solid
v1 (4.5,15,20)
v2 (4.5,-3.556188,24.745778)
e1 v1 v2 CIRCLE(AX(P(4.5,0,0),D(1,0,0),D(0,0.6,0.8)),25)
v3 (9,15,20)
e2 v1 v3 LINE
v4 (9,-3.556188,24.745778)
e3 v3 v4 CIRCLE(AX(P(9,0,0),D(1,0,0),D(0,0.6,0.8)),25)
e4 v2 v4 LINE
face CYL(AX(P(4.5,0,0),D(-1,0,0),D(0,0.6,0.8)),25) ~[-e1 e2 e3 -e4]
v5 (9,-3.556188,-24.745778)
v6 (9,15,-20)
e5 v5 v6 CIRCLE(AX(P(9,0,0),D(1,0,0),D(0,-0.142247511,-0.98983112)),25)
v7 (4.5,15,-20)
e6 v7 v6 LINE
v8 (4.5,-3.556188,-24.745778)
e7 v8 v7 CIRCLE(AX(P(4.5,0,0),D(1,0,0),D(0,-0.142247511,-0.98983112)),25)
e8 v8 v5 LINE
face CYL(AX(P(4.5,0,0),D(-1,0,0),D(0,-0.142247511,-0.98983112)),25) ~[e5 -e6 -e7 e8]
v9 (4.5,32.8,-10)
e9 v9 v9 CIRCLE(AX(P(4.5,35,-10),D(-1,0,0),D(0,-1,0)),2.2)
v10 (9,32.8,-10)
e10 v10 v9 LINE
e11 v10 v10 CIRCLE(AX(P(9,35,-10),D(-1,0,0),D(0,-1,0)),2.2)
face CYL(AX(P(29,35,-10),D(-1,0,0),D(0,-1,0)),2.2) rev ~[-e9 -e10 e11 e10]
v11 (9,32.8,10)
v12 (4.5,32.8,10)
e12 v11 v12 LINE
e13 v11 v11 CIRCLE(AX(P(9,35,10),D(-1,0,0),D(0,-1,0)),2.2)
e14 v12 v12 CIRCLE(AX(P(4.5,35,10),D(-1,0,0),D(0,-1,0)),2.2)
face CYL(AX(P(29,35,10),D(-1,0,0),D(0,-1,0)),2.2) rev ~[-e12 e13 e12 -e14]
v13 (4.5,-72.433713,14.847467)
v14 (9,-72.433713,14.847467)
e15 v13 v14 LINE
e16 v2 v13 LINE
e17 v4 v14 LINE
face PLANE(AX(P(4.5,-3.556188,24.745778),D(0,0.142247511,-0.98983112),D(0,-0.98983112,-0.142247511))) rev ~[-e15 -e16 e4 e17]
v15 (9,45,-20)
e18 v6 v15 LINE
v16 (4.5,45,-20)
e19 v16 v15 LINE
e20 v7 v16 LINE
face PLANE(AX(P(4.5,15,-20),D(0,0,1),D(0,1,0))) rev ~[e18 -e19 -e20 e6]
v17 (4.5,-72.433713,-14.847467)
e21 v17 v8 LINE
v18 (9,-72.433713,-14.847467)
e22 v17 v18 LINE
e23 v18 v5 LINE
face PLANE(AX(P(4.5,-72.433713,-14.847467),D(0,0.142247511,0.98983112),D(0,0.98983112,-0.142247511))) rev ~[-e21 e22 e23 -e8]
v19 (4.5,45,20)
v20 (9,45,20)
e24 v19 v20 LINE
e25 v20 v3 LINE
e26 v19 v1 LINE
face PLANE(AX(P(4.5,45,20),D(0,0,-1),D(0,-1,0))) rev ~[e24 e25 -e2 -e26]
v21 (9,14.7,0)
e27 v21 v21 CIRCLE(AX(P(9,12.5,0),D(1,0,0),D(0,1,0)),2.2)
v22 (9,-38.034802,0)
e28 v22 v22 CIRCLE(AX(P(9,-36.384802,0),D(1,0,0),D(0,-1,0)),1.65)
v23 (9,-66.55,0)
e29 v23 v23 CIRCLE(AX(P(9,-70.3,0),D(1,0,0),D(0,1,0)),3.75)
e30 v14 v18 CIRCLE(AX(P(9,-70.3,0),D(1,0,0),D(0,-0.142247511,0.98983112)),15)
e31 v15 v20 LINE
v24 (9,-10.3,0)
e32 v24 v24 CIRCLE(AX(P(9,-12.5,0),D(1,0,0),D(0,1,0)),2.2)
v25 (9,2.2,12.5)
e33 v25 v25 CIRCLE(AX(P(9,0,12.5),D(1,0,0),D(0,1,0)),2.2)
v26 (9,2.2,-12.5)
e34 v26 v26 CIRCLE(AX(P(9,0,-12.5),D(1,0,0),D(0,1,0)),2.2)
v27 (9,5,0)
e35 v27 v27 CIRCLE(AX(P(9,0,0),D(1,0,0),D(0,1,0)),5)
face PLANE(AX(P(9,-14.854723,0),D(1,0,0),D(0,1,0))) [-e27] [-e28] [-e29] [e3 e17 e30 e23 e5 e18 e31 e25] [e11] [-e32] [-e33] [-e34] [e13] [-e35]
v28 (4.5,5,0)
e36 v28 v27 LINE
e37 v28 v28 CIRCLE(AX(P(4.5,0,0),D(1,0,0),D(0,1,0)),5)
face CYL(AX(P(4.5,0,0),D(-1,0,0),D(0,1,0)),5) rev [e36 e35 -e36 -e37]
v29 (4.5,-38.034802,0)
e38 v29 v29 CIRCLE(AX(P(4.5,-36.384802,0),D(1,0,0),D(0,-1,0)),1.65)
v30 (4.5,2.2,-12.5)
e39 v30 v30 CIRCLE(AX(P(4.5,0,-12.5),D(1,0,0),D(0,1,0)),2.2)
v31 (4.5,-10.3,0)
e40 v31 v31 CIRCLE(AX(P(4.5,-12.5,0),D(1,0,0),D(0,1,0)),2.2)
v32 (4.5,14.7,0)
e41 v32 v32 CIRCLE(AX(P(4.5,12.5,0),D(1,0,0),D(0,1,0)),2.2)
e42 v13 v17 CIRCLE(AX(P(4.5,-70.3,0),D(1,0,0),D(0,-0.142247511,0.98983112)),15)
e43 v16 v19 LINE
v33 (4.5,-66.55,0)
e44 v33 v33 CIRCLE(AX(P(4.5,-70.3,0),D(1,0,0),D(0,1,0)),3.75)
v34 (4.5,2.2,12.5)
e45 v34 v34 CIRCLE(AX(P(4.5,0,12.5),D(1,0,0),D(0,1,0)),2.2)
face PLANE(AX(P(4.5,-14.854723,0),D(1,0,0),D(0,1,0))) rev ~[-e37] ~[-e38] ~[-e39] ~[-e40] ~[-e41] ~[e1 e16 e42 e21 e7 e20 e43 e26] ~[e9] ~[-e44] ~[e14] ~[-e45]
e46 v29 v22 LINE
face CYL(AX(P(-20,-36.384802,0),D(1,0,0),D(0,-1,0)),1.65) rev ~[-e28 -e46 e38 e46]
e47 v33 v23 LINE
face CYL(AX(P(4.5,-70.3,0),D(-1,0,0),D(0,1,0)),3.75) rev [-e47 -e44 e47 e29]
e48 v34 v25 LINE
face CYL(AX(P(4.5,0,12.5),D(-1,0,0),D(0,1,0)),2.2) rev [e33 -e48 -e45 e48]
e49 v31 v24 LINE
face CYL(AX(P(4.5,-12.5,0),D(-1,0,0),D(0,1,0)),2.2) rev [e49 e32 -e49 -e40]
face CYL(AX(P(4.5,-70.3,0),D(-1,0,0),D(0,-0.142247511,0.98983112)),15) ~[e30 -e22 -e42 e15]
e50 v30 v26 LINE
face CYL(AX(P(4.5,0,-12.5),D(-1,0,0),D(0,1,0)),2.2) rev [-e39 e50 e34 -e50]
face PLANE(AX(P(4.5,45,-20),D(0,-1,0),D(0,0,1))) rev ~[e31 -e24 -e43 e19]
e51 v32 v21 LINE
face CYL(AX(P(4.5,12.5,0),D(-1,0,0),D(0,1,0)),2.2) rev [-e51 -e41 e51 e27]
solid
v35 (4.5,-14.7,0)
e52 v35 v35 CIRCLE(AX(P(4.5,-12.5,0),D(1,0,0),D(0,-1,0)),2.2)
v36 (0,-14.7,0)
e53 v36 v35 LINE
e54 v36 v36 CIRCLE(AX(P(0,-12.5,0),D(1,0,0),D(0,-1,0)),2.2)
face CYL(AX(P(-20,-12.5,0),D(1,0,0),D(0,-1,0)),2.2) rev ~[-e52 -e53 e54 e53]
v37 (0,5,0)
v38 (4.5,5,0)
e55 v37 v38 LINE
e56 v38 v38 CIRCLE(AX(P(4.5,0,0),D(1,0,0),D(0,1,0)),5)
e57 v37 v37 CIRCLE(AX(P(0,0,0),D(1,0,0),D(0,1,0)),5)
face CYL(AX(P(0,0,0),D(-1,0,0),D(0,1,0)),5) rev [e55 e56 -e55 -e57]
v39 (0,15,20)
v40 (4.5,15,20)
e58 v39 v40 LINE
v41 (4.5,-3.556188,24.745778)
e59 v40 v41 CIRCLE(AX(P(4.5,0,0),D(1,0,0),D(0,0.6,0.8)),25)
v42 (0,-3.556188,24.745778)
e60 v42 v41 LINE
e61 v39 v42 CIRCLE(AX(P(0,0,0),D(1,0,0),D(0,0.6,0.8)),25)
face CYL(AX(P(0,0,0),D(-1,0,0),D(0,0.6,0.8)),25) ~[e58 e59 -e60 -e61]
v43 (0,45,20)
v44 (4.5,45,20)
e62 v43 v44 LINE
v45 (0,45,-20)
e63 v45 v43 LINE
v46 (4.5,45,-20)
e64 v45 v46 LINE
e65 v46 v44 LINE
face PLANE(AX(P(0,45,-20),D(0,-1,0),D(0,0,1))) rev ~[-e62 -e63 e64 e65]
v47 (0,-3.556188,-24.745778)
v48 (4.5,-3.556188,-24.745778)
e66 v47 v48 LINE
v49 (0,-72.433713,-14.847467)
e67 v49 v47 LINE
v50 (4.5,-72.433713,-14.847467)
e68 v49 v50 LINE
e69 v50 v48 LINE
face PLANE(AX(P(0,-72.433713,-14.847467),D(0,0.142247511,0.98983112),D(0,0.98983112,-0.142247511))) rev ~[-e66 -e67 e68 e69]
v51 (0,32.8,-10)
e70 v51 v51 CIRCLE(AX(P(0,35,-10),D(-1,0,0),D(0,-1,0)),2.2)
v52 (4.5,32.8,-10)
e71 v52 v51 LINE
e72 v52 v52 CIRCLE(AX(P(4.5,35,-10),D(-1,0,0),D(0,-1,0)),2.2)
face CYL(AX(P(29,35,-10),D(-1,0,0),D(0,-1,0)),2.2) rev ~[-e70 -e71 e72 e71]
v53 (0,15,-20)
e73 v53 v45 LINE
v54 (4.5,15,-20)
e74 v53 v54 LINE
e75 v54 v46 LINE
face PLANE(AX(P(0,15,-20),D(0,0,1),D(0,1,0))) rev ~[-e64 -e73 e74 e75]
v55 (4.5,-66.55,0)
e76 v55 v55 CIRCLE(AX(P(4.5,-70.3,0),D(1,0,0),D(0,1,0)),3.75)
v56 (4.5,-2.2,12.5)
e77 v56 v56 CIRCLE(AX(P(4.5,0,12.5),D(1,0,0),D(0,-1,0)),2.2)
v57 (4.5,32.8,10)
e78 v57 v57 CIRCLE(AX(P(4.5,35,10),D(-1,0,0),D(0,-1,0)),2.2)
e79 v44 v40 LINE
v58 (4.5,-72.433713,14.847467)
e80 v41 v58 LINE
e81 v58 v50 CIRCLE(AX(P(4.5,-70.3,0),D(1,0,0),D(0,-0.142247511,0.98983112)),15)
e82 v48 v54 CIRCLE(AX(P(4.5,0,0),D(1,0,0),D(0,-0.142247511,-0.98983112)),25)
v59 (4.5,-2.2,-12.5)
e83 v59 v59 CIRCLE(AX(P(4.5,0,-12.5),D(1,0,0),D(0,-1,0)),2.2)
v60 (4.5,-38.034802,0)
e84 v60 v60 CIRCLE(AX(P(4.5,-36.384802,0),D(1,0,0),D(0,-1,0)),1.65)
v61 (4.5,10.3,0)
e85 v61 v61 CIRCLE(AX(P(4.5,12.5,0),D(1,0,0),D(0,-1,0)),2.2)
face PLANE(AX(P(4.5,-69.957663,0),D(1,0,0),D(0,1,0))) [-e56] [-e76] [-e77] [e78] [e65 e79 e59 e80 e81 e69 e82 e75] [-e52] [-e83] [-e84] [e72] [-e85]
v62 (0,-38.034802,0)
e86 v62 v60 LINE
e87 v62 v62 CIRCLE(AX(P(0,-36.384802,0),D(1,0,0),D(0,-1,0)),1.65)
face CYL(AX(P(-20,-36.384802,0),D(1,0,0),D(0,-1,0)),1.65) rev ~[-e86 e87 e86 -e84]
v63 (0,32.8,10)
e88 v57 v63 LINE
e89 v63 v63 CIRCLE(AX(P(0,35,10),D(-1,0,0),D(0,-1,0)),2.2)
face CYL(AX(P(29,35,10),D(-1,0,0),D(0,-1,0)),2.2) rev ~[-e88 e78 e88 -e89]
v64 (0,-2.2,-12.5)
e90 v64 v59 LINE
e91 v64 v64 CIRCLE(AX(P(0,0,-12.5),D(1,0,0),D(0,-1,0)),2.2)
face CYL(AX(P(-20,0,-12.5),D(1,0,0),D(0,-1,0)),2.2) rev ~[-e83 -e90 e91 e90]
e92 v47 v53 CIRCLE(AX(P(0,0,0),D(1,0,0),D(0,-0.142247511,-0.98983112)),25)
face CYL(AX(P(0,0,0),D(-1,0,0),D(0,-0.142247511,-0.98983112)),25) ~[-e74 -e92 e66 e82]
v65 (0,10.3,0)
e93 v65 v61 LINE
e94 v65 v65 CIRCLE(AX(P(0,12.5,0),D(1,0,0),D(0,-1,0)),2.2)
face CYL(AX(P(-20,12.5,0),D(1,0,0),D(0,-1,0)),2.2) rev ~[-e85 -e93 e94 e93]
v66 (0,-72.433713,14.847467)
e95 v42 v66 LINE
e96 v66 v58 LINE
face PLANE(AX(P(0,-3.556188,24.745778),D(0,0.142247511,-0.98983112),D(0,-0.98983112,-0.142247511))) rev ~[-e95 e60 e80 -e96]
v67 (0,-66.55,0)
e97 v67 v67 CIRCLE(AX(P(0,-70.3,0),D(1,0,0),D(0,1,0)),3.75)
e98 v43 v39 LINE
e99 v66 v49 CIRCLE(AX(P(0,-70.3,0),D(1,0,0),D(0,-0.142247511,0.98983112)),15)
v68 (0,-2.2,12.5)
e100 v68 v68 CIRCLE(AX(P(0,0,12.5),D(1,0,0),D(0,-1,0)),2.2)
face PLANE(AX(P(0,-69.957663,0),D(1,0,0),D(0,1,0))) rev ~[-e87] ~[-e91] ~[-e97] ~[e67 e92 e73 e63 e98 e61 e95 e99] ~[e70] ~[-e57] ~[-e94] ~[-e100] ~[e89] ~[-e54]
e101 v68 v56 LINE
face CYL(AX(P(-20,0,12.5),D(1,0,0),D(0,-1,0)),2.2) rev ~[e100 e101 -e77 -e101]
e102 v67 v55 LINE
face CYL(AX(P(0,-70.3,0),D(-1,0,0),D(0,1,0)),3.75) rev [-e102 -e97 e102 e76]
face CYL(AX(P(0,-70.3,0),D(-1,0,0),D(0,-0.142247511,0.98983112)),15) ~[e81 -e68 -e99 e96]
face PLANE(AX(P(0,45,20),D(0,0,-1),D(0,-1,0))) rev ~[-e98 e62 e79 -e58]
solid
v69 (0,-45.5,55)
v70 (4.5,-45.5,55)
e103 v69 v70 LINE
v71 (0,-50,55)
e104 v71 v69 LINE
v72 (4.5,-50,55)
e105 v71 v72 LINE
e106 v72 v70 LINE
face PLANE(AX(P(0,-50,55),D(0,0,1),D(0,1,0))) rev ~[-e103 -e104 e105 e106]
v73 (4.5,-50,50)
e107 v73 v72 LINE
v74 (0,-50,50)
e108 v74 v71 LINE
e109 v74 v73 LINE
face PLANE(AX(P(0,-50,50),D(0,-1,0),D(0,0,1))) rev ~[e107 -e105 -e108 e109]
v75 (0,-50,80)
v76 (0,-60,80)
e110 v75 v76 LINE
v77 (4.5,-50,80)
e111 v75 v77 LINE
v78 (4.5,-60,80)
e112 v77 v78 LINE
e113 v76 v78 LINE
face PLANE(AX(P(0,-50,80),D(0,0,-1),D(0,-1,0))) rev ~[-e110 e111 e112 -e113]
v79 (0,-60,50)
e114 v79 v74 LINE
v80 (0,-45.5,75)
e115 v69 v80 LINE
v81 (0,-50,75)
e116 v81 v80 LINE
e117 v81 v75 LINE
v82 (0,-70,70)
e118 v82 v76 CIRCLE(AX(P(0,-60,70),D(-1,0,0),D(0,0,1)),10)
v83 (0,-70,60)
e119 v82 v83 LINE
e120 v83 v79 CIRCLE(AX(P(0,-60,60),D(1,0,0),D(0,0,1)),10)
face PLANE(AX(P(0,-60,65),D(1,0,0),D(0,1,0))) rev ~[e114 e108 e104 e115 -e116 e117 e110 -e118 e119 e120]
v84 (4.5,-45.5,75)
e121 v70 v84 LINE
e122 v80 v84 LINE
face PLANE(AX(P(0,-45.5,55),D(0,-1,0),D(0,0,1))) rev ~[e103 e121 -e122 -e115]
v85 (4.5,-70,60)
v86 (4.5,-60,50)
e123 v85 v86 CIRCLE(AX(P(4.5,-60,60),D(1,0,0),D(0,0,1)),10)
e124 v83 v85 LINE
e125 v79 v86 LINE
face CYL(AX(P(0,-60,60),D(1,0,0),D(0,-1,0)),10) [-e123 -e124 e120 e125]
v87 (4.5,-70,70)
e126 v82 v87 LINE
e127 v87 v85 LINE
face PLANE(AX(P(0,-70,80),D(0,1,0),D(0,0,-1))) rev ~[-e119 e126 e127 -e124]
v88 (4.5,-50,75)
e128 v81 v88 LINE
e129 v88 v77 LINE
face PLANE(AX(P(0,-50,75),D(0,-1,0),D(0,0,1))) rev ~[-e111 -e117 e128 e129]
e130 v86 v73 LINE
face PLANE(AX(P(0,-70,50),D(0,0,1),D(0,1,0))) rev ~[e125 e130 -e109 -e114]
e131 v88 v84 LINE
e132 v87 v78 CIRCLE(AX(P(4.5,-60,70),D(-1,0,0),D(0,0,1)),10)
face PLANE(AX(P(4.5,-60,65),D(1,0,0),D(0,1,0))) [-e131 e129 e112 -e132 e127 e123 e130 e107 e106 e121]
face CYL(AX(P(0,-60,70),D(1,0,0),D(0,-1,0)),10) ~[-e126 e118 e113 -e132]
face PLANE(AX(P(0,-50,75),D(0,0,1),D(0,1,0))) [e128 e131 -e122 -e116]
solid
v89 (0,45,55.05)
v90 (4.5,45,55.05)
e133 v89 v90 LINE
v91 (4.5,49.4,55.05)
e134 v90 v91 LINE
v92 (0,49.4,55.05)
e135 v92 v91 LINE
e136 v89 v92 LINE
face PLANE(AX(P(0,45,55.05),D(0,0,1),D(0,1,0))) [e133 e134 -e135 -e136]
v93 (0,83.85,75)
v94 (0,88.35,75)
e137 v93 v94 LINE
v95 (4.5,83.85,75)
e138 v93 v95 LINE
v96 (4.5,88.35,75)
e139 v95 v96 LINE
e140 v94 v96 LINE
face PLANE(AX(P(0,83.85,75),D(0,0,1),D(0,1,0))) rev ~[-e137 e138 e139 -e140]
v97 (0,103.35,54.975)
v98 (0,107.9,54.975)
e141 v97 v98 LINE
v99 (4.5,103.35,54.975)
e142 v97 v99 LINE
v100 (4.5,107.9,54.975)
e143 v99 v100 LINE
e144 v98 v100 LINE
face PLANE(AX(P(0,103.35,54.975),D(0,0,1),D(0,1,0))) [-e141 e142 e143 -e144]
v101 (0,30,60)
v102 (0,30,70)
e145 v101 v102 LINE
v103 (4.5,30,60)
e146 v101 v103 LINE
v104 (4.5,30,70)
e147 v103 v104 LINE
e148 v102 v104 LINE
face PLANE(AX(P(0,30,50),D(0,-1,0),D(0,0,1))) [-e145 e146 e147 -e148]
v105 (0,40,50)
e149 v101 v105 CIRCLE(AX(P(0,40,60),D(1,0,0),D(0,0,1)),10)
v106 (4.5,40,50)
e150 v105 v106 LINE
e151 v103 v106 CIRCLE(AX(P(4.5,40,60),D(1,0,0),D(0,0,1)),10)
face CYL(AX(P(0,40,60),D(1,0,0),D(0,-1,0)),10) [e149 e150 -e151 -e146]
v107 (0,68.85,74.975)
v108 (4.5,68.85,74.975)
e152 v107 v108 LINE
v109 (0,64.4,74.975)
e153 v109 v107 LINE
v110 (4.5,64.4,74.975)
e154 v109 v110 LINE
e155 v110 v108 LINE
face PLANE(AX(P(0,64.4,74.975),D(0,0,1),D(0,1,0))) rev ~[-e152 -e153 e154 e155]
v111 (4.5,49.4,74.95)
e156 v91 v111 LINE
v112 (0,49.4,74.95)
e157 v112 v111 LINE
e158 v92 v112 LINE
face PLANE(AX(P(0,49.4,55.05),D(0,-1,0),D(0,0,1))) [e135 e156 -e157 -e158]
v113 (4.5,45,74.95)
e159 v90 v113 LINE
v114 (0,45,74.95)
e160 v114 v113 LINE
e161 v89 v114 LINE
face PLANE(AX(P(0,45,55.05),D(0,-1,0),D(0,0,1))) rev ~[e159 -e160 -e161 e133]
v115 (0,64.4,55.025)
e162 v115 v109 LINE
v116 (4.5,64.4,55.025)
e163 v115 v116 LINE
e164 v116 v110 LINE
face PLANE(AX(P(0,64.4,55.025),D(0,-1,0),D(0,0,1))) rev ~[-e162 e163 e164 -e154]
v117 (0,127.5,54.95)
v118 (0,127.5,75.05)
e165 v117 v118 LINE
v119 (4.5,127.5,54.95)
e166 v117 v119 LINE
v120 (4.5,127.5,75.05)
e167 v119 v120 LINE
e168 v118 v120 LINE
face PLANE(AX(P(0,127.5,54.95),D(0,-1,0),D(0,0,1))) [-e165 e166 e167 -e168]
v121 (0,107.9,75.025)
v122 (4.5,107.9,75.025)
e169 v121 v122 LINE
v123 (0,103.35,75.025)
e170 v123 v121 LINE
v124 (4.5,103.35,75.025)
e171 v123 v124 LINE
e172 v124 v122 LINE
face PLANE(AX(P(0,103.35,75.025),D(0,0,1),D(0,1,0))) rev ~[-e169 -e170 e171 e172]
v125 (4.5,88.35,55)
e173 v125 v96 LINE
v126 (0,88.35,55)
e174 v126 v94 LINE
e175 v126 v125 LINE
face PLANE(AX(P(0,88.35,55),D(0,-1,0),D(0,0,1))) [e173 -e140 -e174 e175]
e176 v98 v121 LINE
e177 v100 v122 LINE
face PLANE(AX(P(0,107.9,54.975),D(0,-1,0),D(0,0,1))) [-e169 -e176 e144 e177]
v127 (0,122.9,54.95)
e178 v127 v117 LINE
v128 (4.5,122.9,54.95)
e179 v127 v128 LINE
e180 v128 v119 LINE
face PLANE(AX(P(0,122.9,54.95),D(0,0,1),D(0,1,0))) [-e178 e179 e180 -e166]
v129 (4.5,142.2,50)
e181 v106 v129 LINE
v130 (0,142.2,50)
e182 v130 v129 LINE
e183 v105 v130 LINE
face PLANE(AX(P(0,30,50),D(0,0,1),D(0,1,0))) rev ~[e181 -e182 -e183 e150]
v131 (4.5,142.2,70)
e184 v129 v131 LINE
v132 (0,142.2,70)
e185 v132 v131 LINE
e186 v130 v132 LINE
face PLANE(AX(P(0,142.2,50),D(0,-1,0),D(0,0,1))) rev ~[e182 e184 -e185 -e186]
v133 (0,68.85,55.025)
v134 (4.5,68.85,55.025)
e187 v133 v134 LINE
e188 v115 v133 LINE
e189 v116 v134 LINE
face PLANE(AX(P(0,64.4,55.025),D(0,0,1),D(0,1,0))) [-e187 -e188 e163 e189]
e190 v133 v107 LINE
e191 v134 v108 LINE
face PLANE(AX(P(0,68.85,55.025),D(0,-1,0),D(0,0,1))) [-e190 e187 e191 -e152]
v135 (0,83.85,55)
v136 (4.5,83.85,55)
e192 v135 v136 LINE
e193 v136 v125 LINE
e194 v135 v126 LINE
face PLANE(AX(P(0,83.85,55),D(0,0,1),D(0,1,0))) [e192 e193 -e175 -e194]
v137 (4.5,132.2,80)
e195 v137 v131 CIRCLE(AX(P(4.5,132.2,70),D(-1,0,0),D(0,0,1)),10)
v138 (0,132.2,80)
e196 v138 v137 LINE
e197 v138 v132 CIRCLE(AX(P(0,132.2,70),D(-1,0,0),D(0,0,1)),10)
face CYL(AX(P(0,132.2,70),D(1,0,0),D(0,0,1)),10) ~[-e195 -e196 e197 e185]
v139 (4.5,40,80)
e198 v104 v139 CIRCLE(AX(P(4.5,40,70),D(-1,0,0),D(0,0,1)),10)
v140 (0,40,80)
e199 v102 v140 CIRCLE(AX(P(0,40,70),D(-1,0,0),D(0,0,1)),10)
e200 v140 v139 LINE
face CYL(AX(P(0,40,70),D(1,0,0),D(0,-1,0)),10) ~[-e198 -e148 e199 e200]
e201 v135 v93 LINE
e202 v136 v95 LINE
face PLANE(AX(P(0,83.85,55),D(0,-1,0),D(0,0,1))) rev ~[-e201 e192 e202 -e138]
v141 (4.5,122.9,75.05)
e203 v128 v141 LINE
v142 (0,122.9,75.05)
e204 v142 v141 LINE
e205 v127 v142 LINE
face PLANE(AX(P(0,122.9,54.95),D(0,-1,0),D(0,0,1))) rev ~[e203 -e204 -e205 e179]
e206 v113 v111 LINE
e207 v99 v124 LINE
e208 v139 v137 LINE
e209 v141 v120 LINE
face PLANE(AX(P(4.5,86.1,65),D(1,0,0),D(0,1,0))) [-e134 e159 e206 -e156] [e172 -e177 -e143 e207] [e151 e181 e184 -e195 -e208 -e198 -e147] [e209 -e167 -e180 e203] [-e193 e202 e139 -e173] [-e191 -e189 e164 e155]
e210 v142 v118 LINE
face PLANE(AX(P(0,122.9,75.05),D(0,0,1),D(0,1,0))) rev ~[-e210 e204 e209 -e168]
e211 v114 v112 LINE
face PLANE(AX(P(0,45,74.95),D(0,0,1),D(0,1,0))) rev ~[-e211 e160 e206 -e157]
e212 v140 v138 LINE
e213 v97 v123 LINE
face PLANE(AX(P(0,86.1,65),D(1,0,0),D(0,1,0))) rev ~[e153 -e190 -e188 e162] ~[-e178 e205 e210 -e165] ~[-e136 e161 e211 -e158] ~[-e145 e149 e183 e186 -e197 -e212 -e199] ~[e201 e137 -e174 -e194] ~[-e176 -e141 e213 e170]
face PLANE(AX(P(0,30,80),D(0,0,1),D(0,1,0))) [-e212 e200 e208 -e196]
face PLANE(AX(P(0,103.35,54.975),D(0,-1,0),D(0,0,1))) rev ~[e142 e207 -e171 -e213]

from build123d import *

# Parameters (mm, degrees)
F0_R        = 3.75
F0_R_2      = 5
F1_DEPTH    = 4.5
F2_D        = 4.4
F2_DEPTH    = 20
F2_TIP      = 1.3218933619
F3_W        = 4.5
F3_H        = 20
F4_DEPTH    = 4.5
F3_W_2      = 112.2
F3_H_2      = 30
F3_W_3      = 4.45
F3_H_3      = 19.95
F3_W_4      = 4.4
F3_H_4      = 19.9
F3_W_5      = 4.55
F3_H_5      = 20.05
F3_W_6      = 4.6
F3_H_6      = 20.1
F5_R        = 10
F5_2_R      = 10
F6_R        = 2.2
F6_R_2      = 3.75
F6_R_3      = 5
F7_DEPTH    = 4.5
F8_D        = 3.3
F8_DEPTH    = 20
F8_TIP      = 0.9914200214
F8_2_D      = 3.3
F8_2_DEPTH  = 20
F8_2_TIP    = 0.9914200214
F10_D       = 4.4
F10_DEPTH   = 20
F10_TIP     = 1.3218933619
F10_2_D     = 4.4
F10_2_DEPTH = 20
F10_2_TIP   = 1.3218933619


with BuildPart() as f1:
    # F0 (on Right) → F1 (new body)
    with BuildSketch(Plane.YZ):
        with BuildLine():
            ThreePointArc((-72.43371266, -14.8474667969), (-60.476703453, -11.3359095334), (-55.3, 0))
            ThreePointArc((-55.3, 0), (-60.476703453, 11.3359095334), (-72.43371266, 14.8474667969))
            ThreePointArc((-72.43371266, 14.8474667969), (-85.3, 0), (-72.43371266, -14.8474667969))
        make_face()
        with Locations((-70.3, 0)):
            Circle(F0_R, mode=Mode.SUBTRACT)
        with BuildLine():
            ThreePointArc((-72.43371266, 14.8474667969), (-60.476703453, 11.3359095334), (-55.3, 0))
            ThreePointArc((-55.3, 0), (-60.476703453, -11.3359095334), (-72.43371266, -14.8474667969))
            Line((-72.43371266, -14.8474667969), (-3.5561877667, -24.7457779948))
            ThreePointArc((-3.5561877667, -24.7457779948), (-25, 0), (-3.5561877667, 24.7457779948))
            Line((-3.5561877667, 24.7457779948), (-72.43371266, 14.8474667969))
        make_face()
        with BuildLine():
            ThreePointArc((15, 20), (6.1944177936, 24.2204291498), (-3.5561877667, 24.7457779948))
            ThreePointArc((-3.5561877667, 24.7457779948), (-25, 0), (-3.5561877667, -24.7457779948))
            ThreePointArc((-3.5561877667, -24.7457779948), (6.1944177936, -24.2204291498), (15, -20))
            ThreePointArc((15, -20), (22.360679775, -11.1803398875), (25, 0))
            ThreePointArc((25, 0), (22.360679775, 11.1803398875), (15, 20))
        make_face()
        Circle(F0_R_2, mode=Mode.SUBTRACT)
        with BuildLine():
            Line((45, 20), (15, 20))
            ThreePointArc((15, 20), (22.360679775, 11.1803398875), (25, 0))
            ThreePointArc((25, 0), (22.360679775, -11.1803398875), (15, -20))
            Line((15, -20), (45, -20))
            Line((45, -20), (45, 20))
        make_face()
    extrude(amount=F1_DEPTH)

    # F2
    with Locations(Plane(origin=(0, 0, 0), x_dir=(0, 1, 0), z_dir=(-1, 0, 0))):
        with Locations((-12.5, 0), (0, -12.5), (0, 12.5), (12.5, 0)):
            Hole(F2_D / 2, depth=F2_DEPTH)
            with Locations((0, 0, -(F2_DEPTH + F2_TIP / 2))):  # 118° drill point
                Cone(0, F2_D / 2, F2_TIP, mode=Mode.SUBTRACT)

    # F8
    with Locations(Plane(origin=(0, 0, 0), x_dir=(0, 1, 0), z_dir=(-1, 0, 0))):
        with Locations((-36.3848023117, 0)):
            Hole(F8_D / 2, depth=F8_DEPTH)
            with Locations((0, 0, -(F8_DEPTH + F8_TIP / 2))):  # 118° drill point
                Cone(0, F8_D / 2, F8_TIP, mode=Mode.SUBTRACT)

    # F10
    with Locations(Plane.YZ.offset(9)):
        with Locations((35, -10), (35, 10)):
            Hole(F10_D / 2, depth=F10_DEPTH)
            with Locations((0, 0, -(F10_DEPTH + F10_TIP / 2))):  # 118° drill point
                Cone(0, F10_D / 2, F10_TIP, mode=Mode.SUBTRACT)


with BuildPart() as f4:
    # F3 (on Right) → F4 (new body)
    with BuildSketch(Plane.YZ):
        Polygon((-70, 80), (-70, 50), (-50, 50), (-50, 55), (-50, 75), (-50, 80), align=None)
        with Locations((-47.75, 65)):
            Rectangle(F3_W, F3_H)
    extrude(amount=F4_DEPTH)

    # F5
    f5_edges = [f4.edges().sort_by_distance(p)[0] for p in [
        (2.25, -70, 50),
        (2.25, -70, 80),
    ]]
    fillet(f5_edges, radius=F5_R)


with BuildPart() as f4b:
    # F3 (on Right) → F4, piece 2 (new body)
    with BuildSketch(Plane.YZ):
        with Locations((86.1, 65)):
            Rectangle(F3_W_2, F3_H_2)
        with Locations((66.625, 65)):
            Rectangle(F3_W_3, F3_H_3, mode=Mode.SUBTRACT)
        with Locations((47.2, 65)):
            Rectangle(F3_W_4, F3_H_4, mode=Mode.SUBTRACT)
        with Locations((86.1, 65)):
            Rectangle(F3_W, F3_H, mode=Mode.SUBTRACT)
        with Locations((105.625, 65)):
            Rectangle(F3_W_5, F3_H_5, mode=Mode.SUBTRACT)
        with Locations((125.2, 65)):
            Rectangle(F3_W_6, F3_H_6, mode=Mode.SUBTRACT)
    extrude(amount=F4_DEPTH)

    # F5#2
    f5_2_edges = [f4b.edges().sort_by_distance(p)[0] for p in [
        (2.25, 30, 80),
        (2.25, 30, 50),
        (2.25, 142.2, 80),
    ]]
    fillet(f5_2_edges, radius=F5_2_R)


with BuildPart() as f7:
    # F6 (on face) → F7 (new body)
    with BuildSketch(Plane.YZ.offset(4.5)):
        with BuildLine():
            Line((45, 20), (15, 20))
            ThreePointArc((15, 20), (6.1944177936, 24.2204291498), (-3.5561877667, 24.7457779948))
            Line((-3.5561877667, 24.7457779948), (-72.43371266, 14.8474667969))
            ThreePointArc((-72.43371266, 14.8474667969), (-85.3, 0), (-72.43371266, -14.8474667969))
            Line((-72.43371266, -14.8474667969), (-3.5561877667, -24.7457779948))
            ThreePointArc((-3.5561877667, -24.7457779948), (6.1944177936, -24.2204291498), (15, -20))
            Line((15, -20), (45, -20))
            Line((45, -20), (45, 20))
        make_face()
        with Locations((0, -12.5)):
            Circle(F6_R, mode=Mode.SUBTRACT)
        with Locations((-70.3, 0)):
            Circle(F6_R_2, mode=Mode.SUBTRACT)
        with Locations((-12.5, 0)):
            Circle(F6_R, mode=Mode.SUBTRACT)
        Circle(F6_R_3, mode=Mode.SUBTRACT)
        with Locations((12.5, 0)):
            Circle(F6_R, mode=Mode.SUBTRACT)
        with Locations((0, 12.5)):
            Circle(F6_R, mode=Mode.SUBTRACT)
    extrude(amount=F7_DEPTH)

    # F8#2
    with Locations(Plane(origin=(0, 0, 0), x_dir=(0, 1, 0), z_dir=(-1, 0, 0))):
        with Locations((-36.3848023117, 0)):
            Hole(F8_2_D / 2, depth=F8_2_DEPTH)
            with Locations((0, 0, -(F8_2_DEPTH + F8_2_TIP / 2))):  # 118° drill point
                Cone(0, F8_2_D / 2, F8_2_TIP, mode=Mode.SUBTRACT)

    # F10#2
    with Locations(Plane.YZ.offset(9)):
        with Locations((35, -10), (35, 10)):
            Hole(F10_2_D / 2, depth=F10_2_DEPTH)
            with Locations((0, 0, -(F10_2_DEPTH + F10_2_TIP / 2))):  # 118° drill point
                Cone(0, F10_2_D / 2, F10_2_TIP, mode=Mode.SUBTRACT)


solid = Compound([f1.part, f4.part, f4b.part, f7.part])
